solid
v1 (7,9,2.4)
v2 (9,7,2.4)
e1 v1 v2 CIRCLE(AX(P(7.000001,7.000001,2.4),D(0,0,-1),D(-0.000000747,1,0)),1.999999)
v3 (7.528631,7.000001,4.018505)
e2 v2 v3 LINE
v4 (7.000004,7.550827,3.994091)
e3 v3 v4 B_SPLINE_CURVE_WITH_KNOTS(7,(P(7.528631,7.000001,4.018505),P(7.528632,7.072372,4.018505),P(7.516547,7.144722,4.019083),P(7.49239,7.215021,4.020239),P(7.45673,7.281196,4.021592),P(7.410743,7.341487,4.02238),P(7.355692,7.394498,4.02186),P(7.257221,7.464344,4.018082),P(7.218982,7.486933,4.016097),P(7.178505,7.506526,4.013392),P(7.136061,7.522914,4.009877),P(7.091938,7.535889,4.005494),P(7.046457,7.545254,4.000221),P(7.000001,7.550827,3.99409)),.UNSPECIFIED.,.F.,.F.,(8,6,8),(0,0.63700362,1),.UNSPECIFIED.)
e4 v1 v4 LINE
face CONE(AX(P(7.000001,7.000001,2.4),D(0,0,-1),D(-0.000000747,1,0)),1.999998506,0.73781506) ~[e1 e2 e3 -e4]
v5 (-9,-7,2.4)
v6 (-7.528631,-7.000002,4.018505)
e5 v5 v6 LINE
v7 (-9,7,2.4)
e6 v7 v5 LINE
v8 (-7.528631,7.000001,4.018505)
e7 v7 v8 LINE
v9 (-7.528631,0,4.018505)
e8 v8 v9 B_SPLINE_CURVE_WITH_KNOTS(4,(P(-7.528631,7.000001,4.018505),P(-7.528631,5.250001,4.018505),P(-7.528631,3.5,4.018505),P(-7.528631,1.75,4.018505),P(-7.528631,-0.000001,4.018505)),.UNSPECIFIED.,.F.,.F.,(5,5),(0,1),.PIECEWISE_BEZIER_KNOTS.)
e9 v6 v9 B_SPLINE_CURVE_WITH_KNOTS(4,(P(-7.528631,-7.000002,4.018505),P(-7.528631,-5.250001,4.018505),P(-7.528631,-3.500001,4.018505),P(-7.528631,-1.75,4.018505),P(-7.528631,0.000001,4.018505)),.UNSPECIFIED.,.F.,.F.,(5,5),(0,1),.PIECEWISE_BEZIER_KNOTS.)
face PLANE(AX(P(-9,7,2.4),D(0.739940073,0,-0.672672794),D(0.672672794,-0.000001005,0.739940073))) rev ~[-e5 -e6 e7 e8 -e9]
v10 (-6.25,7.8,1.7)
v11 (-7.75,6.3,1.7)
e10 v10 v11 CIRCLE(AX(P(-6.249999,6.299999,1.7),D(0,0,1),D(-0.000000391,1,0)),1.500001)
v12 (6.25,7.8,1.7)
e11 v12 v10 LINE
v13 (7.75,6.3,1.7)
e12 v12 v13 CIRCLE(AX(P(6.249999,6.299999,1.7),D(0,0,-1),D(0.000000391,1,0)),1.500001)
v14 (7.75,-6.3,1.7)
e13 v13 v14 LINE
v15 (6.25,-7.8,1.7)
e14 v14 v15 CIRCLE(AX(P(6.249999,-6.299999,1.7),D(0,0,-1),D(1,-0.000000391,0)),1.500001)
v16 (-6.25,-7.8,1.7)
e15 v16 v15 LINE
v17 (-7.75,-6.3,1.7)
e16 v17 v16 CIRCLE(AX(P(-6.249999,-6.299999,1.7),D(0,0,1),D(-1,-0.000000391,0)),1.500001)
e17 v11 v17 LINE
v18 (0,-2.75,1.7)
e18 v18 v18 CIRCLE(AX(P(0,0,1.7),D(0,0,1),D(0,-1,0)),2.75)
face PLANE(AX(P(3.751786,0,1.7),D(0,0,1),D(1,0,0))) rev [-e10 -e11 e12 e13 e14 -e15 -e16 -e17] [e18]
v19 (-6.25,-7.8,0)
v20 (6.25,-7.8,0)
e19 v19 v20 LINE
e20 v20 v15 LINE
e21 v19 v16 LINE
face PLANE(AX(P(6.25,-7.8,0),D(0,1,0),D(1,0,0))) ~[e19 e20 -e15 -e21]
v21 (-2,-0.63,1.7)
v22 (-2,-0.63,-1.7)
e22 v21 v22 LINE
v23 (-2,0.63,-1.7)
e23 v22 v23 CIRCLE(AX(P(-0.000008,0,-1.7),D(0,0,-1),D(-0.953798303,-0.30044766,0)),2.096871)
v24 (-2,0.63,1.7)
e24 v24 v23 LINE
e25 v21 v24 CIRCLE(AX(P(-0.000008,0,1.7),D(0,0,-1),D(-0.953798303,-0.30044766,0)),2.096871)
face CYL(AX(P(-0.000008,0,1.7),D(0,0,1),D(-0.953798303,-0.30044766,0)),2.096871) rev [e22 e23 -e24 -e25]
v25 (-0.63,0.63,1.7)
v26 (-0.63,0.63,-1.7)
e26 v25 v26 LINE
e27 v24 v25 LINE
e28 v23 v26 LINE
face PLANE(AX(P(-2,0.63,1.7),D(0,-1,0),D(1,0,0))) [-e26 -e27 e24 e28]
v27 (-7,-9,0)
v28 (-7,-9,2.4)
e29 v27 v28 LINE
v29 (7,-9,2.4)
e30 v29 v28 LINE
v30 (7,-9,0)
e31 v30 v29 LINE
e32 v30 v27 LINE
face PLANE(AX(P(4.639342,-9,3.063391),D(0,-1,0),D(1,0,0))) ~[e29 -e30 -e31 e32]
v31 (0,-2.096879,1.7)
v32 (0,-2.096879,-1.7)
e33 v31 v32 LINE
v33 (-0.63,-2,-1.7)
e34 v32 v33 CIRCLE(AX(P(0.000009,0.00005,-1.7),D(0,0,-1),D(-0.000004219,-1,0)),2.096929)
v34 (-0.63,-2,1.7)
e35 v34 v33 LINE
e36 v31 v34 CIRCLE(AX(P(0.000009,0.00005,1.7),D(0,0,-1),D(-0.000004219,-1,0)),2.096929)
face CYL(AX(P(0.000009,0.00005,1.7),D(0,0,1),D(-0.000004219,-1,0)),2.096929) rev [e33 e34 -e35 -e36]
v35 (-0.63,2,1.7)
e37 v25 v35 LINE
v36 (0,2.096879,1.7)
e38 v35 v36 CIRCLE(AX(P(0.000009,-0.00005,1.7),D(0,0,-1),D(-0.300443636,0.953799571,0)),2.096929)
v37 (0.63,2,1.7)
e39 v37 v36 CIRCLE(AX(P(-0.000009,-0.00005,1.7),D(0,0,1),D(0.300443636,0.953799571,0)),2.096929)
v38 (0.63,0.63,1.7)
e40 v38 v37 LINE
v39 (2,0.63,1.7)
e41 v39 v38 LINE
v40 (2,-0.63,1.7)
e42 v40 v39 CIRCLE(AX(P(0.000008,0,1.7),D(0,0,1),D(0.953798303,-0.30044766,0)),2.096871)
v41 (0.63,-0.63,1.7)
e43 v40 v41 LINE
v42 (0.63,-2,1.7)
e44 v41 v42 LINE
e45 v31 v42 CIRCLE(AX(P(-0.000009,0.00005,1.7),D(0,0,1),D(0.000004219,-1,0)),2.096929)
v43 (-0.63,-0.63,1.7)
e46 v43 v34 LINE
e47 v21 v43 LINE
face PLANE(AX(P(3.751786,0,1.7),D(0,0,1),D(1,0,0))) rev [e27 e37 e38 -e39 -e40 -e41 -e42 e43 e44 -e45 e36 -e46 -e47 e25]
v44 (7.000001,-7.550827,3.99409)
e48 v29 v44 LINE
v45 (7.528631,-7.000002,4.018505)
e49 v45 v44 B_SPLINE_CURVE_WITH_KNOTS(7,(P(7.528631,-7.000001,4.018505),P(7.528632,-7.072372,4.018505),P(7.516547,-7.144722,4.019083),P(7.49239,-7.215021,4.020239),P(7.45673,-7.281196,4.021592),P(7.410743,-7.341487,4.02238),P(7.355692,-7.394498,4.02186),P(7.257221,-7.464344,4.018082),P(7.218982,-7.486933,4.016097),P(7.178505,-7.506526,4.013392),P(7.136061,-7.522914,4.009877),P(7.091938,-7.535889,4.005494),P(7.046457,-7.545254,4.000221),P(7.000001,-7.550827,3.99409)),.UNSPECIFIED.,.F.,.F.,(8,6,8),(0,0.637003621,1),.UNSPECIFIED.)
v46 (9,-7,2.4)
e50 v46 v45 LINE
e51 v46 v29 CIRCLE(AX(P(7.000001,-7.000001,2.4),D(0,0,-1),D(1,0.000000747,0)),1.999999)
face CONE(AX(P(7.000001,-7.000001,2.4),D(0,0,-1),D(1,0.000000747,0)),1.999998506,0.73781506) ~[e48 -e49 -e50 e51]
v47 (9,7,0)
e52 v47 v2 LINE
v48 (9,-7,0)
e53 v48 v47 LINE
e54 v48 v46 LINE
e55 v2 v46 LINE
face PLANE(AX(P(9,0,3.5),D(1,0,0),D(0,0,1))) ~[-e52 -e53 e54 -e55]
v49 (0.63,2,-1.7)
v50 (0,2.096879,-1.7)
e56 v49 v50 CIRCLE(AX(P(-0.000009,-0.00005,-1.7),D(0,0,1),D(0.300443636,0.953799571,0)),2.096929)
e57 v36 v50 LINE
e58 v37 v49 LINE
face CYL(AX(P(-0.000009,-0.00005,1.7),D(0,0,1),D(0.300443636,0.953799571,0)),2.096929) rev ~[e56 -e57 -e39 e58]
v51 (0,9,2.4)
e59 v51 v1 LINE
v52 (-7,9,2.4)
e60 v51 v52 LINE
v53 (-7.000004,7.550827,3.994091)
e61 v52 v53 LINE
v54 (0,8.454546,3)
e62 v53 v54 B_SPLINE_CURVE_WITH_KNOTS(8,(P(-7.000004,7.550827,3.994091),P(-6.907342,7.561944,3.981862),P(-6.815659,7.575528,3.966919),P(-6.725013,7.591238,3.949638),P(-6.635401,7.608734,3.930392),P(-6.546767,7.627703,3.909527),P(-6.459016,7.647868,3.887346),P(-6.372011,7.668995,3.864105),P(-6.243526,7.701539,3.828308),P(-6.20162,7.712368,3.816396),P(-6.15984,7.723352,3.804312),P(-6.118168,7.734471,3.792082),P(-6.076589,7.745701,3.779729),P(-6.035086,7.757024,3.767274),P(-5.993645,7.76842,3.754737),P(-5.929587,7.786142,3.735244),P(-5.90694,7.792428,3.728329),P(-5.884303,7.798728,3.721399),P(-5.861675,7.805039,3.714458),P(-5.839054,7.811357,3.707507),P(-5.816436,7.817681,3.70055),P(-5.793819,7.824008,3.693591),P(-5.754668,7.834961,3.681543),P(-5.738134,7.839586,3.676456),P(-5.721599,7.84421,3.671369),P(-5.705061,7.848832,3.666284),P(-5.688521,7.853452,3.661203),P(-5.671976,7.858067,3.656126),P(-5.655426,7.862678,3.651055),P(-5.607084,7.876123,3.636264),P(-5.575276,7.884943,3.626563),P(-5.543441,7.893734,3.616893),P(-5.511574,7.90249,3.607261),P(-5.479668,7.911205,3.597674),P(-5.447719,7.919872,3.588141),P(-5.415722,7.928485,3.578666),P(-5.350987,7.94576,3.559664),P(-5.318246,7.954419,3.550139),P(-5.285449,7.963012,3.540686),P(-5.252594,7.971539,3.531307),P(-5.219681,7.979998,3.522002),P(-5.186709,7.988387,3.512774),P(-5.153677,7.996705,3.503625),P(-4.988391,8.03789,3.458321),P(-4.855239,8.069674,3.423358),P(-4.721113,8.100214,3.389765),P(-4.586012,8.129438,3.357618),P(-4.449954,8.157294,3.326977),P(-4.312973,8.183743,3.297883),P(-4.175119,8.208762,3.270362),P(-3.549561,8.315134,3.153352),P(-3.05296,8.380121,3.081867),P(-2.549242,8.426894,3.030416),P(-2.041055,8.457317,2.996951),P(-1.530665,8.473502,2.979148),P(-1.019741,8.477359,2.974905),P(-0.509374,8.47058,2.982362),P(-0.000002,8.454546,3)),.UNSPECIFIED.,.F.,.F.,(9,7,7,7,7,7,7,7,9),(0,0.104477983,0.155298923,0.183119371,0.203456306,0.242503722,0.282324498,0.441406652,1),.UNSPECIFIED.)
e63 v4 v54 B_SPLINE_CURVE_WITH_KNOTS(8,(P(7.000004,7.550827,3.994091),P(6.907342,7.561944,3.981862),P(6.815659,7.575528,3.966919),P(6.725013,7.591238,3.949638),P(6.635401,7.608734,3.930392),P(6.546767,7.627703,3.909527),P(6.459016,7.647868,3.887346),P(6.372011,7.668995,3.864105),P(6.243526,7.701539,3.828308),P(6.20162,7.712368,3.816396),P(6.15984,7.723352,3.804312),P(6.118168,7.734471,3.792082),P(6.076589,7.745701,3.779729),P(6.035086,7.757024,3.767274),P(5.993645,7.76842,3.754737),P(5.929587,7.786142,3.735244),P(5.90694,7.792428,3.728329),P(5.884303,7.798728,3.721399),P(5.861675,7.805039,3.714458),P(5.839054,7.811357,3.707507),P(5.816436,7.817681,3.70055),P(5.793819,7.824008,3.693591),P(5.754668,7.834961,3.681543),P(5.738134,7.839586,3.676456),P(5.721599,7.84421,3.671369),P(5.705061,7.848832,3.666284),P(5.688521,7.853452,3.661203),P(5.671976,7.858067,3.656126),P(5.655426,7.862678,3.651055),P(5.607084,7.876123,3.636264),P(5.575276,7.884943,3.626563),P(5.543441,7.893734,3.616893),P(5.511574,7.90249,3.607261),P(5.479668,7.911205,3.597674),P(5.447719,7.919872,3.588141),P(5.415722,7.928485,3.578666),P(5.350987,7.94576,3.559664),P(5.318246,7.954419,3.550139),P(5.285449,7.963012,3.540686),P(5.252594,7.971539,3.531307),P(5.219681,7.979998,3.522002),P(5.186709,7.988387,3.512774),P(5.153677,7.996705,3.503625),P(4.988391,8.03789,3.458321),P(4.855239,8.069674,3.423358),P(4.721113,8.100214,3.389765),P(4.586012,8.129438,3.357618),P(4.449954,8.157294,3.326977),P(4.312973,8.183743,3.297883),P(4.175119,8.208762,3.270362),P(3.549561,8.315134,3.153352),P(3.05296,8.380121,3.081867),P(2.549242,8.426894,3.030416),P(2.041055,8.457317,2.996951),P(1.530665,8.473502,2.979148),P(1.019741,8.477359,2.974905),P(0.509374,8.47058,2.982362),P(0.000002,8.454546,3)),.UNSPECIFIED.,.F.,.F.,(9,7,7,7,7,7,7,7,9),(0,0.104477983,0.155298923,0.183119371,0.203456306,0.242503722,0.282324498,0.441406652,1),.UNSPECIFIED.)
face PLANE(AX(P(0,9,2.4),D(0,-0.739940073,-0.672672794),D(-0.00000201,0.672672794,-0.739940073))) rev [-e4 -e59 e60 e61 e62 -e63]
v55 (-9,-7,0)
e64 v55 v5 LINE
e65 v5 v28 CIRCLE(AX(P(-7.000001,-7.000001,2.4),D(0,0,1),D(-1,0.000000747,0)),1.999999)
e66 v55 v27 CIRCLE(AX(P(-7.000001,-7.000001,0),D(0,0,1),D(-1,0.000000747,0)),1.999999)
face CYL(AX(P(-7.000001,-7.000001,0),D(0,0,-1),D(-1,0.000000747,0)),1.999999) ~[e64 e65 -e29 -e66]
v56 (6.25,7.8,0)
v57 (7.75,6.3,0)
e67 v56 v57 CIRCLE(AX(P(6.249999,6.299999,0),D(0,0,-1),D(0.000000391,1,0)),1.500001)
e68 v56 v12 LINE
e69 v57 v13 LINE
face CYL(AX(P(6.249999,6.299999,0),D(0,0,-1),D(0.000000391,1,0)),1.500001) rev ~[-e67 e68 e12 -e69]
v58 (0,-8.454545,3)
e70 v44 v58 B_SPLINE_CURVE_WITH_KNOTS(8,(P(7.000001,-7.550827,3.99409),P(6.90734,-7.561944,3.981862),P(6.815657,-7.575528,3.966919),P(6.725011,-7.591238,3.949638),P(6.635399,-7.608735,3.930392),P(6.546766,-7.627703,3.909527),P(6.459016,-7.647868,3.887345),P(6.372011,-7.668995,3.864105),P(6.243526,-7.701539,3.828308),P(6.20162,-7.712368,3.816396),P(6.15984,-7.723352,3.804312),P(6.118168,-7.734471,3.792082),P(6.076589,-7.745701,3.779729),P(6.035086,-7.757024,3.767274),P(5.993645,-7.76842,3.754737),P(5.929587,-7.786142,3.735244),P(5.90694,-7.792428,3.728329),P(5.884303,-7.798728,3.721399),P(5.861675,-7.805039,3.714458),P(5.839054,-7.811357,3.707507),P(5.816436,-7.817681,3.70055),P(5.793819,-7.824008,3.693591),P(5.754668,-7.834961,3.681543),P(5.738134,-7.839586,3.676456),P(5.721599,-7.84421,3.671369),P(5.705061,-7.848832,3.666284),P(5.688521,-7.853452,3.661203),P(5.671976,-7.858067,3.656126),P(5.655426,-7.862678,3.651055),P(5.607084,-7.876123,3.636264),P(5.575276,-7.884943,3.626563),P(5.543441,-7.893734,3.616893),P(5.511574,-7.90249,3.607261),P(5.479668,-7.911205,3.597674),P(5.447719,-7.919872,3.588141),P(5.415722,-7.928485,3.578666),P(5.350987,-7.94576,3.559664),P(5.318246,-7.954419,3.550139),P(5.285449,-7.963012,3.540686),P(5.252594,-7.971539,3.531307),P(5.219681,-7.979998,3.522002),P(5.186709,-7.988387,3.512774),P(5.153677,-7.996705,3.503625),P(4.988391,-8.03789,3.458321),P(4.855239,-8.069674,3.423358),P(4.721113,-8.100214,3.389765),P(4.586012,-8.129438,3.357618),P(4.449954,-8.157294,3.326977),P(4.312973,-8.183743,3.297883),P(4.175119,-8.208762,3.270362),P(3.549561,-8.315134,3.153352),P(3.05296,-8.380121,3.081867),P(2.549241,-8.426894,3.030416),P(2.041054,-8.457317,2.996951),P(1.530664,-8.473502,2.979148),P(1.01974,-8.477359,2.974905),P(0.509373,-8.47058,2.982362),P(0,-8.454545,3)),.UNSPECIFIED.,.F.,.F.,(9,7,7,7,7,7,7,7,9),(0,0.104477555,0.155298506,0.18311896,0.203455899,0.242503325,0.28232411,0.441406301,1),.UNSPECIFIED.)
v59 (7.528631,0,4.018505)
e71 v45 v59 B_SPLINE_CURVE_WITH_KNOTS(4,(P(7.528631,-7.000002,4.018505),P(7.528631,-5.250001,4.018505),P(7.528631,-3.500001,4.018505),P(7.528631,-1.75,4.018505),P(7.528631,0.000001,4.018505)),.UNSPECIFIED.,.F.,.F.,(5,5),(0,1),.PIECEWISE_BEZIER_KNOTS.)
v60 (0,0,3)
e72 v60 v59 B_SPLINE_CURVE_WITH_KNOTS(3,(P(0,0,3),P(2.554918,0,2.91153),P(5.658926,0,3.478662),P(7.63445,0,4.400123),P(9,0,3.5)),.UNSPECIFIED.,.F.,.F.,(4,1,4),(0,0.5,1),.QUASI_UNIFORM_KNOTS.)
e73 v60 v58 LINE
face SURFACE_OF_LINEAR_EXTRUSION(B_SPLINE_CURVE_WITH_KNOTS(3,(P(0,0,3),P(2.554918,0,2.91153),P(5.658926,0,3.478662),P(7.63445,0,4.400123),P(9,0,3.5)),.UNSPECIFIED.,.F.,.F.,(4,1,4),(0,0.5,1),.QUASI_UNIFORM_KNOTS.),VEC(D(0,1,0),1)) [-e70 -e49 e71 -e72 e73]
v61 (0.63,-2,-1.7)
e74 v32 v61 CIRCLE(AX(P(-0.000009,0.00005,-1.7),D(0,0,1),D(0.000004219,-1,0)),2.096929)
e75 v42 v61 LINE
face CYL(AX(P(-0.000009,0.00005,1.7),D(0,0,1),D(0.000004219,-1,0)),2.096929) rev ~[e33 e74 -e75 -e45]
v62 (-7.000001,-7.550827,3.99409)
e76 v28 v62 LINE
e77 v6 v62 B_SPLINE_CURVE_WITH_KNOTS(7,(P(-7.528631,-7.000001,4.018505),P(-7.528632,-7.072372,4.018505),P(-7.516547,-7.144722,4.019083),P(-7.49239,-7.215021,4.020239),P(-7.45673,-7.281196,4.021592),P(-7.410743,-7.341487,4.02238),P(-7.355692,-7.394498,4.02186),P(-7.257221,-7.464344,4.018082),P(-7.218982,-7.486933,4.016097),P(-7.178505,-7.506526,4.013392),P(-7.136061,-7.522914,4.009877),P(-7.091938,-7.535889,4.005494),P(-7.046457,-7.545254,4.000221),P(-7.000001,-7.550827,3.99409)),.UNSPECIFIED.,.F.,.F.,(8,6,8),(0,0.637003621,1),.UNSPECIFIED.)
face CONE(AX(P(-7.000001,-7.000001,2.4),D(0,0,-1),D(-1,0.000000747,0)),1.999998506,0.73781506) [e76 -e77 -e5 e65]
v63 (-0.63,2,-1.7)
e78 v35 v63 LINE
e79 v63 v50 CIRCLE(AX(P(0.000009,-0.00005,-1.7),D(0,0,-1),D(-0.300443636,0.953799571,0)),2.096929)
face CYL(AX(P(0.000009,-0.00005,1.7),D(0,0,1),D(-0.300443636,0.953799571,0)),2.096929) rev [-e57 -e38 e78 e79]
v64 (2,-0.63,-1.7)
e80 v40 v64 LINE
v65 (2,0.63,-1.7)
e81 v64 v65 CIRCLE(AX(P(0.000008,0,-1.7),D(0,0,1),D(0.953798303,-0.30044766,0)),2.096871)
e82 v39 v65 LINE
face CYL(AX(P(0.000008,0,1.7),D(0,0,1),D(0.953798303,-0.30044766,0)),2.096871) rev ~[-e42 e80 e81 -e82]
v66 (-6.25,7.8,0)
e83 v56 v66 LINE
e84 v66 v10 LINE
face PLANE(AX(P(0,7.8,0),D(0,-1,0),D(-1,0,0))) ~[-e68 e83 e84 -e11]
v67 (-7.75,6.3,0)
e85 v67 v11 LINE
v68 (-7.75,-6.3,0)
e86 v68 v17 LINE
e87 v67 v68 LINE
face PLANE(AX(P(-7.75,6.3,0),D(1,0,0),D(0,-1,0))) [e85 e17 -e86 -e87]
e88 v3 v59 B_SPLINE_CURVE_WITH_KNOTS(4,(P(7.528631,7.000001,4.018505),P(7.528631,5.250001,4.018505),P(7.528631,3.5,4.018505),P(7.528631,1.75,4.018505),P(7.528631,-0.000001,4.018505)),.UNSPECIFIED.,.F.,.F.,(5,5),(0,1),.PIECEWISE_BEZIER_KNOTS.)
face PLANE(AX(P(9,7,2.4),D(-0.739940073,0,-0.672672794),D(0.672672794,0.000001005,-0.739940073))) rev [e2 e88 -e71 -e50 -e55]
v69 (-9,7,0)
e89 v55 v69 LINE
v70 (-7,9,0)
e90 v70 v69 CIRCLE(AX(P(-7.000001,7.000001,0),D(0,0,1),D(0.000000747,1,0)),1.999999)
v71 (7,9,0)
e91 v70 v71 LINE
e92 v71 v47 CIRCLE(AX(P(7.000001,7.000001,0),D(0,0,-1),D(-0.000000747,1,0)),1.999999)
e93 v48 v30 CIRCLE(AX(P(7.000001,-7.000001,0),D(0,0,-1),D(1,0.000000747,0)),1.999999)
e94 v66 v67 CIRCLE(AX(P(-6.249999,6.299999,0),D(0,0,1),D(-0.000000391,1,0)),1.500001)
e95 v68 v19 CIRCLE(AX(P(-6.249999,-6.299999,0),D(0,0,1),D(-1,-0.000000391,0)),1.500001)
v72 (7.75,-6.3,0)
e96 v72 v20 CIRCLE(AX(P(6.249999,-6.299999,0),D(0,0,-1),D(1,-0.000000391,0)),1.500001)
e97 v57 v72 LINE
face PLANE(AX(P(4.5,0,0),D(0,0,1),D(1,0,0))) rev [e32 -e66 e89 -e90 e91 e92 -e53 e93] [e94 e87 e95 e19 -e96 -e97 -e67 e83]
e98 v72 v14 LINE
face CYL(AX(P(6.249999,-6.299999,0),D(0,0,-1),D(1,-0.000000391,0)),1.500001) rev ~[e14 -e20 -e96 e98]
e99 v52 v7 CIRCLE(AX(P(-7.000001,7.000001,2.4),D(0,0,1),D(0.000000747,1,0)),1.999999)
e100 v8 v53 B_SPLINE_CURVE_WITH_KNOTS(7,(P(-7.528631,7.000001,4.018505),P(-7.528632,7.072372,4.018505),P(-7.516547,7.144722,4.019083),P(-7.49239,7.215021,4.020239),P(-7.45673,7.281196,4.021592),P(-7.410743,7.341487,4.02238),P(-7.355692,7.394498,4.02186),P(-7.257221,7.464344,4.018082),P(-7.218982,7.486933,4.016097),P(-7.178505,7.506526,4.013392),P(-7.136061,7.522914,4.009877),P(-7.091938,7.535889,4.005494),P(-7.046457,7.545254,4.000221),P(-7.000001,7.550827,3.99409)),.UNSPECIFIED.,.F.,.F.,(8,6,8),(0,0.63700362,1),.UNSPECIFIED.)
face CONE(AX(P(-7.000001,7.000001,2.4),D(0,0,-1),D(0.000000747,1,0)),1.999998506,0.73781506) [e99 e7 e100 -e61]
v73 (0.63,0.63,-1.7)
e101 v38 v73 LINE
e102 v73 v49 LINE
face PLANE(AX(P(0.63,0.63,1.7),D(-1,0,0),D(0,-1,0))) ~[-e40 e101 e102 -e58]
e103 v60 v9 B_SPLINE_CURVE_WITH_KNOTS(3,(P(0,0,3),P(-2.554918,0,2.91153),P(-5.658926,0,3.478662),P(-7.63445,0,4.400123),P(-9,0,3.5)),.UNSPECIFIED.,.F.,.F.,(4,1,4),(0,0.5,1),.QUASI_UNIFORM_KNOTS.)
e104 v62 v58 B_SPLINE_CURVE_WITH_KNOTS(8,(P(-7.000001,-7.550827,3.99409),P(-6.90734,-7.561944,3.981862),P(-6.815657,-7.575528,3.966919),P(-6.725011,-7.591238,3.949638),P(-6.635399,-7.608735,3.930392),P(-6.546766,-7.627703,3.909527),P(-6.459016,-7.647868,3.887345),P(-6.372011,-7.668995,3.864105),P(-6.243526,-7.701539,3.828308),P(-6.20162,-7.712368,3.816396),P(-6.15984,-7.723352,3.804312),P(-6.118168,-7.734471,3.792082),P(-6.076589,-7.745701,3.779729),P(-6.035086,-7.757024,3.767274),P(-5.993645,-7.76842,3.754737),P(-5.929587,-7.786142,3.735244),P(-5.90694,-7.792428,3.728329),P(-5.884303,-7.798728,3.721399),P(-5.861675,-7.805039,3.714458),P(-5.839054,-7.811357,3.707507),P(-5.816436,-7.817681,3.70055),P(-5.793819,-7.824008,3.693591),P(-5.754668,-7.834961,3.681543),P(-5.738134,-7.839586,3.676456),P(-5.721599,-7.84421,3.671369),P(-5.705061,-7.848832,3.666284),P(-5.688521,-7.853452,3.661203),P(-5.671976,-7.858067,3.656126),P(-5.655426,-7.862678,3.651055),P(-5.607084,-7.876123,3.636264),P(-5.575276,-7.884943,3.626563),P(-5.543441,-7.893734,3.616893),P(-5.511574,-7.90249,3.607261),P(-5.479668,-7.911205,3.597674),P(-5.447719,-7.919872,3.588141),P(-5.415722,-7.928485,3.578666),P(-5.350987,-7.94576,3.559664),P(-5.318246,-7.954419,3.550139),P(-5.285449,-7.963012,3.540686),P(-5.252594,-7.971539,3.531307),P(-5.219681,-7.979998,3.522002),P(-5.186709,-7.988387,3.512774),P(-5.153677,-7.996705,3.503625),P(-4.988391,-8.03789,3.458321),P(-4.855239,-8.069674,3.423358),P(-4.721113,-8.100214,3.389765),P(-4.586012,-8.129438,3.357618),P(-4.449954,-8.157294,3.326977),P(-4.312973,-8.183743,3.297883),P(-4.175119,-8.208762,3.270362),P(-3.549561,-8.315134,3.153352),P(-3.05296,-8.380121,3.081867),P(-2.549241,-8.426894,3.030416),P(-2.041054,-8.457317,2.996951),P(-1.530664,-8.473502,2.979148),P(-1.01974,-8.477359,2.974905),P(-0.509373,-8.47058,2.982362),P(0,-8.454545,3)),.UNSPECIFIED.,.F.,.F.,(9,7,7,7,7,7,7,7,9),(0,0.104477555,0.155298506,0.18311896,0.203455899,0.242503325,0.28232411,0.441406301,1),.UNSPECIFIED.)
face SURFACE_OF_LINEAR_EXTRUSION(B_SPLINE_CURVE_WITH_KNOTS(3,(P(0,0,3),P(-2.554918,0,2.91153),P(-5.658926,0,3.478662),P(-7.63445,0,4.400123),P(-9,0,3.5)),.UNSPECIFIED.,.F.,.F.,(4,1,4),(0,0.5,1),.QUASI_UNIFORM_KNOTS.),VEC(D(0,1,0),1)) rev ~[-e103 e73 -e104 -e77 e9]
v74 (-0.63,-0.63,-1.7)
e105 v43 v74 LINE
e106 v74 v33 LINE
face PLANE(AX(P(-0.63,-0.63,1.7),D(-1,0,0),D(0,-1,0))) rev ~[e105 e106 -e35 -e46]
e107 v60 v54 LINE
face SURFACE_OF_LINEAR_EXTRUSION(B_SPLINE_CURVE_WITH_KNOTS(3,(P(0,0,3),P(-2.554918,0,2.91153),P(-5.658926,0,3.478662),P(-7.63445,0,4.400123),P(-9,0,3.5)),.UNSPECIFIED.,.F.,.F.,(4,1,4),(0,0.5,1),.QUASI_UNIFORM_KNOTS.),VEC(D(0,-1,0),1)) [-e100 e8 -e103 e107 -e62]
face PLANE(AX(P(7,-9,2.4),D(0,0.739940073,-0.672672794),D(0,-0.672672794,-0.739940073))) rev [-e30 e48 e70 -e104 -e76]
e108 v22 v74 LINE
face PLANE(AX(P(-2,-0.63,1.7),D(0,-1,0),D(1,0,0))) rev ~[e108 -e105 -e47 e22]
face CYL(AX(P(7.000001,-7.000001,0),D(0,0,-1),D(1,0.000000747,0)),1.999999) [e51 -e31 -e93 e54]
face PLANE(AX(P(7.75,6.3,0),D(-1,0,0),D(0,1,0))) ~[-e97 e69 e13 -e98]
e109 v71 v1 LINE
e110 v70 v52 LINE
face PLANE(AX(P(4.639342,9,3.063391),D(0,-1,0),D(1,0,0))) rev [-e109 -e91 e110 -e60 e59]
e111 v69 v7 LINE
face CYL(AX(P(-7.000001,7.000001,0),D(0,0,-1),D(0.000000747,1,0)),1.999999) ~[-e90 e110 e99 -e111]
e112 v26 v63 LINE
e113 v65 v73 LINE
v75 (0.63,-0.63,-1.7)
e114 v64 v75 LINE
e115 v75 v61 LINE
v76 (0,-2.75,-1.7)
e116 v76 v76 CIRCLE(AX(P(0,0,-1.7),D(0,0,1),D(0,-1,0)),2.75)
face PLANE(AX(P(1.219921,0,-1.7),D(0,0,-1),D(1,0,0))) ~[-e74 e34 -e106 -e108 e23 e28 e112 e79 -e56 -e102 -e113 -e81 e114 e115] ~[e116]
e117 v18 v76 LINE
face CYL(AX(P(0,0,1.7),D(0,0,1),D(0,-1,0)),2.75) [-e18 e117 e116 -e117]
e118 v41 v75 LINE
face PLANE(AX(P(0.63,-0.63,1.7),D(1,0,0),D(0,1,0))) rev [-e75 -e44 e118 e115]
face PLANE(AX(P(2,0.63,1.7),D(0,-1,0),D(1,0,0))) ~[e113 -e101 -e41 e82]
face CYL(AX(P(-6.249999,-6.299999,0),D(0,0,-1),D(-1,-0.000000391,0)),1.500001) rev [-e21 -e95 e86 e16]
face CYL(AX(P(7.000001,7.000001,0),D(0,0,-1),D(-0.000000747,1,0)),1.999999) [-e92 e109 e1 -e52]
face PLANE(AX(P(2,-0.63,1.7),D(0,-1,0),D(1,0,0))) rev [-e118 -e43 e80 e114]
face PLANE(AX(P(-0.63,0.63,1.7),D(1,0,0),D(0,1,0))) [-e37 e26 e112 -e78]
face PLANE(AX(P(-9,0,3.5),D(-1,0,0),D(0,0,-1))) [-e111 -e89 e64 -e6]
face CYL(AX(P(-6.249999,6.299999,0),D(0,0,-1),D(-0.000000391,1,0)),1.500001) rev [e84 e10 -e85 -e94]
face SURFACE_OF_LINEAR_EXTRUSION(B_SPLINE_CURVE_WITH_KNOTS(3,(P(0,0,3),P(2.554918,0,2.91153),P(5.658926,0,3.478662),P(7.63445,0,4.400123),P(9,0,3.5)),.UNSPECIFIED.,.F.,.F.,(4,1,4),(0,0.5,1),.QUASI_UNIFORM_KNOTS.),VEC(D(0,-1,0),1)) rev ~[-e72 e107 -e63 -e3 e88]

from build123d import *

# Parameters (mm, degrees)
SKETCH_W        = 9
SKETCH_H        = 18
PAD_DEPTH       = 2.7
PAD001_DEPTH    = 9
POCKET_DEPTH    = 10
POCKET001_DEPTH = 1.7
PAD002_DEPTH    = 3.4


with BuildPart() as part:
    # Sketch → Pad (new body)
    with BuildSketch(Plane.XY):
        with Locations((-4.5, 0)):
            Rectangle(SKETCH_W, SKETCH_H)
    extrude(amount=PAD_DEPTH)

    # Sketch001 → Pad001 (join, symmetric)
    with BuildSketch(Plane.XZ):
        with BuildLine():
            Line((-9, 2.7), (0, 2.7))
            Line((0, 2.7), (0, 3))
            add(Edge.make_bspline(
                [(0, 3), (-2.554918, 2.91153), (-5.658926, 3.478662), (-7.63445, 4.400123), (-9, 3.5)],
                knots=[0, 0, 0, 0, 0.5, 1, 1, 1, 1], degree=3))
            Line((-9, 3.5), (-9, 2.7))
        make_face()
    extrude(amount=PAD001_DEPTH, both=True)

    # Sketch002 → Pocket (cut)
    with BuildSketch(Plane.XY):
        with BuildLine():
            ThreePointArc((-7, 9), (-8.414214, 8.414214), (-9, 7))
            Line((-9, 7), (-10, 7))
            Line((-10, 7), (-10, 10))
            Line((-10, 10), (-7, 10))
            Line((-7, 10), (-7, 9))
        make_face()
        with BuildLine():
            ThreePointArc((-9, -7), (-8.414214, -8.414214), (-7, -9))
            Line((-7, -9), (-7, -10))
            Line((-10, -10), (-7, -10))
            Line((-10, -7), (-10, -10))
            Line((-9, -7), (-10, -7))
        make_face()
    extrude(amount=POCKET_DEPTH, mode=Mode.SUBTRACT)

    # Sketch003 → Pocket001 (cut)
    with BuildSketch(Plane.XY):
        with BuildLine():
            Line((0, 7.8), (-6.25, 7.8))
            ThreePointArc((-6.25, 7.8), (-7.31066, 7.36066), (-7.75, 6.3))
            Line((-7.75, 6.3), (-7.75, -6.3))
            ThreePointArc((-7.75, -6.3), (-7.31066, -7.36066), (-6.25, -7.8))
            Line((-6.25, -7.8), (0, -7.8))
            Line((0, -7.8), (0, 0))
            Line((0, 0), (0, 7.8))
        make_face()
    extrude(amount=POCKET001_DEPTH, mode=Mode.SUBTRACT)

    # Sketch004 (on Face10 of Pocket001) → Pad002 (join)
    with BuildSketch(Plane(origin=(0, 0, 1.7), x_dir=(1, 0, 0), z_dir=(0, 0, -1))):
        with BuildLine():
            ThreePointArc((0, 2.75), (-2.75, 0), (0, -2.75))
            Line((0, -2.096879), (0, -2.75))
            ThreePointArc((-0.63, -2), (-0.318703, -2.072517), (0, -2.096879))
            Line((-0.63, -0.63), (-0.63, -2))
            Line((-2, -0.63), (-0.63, -0.63))
            ThreePointArc((-2, 0.63), (-2.096879, 0), (-2, -0.63))
            Line((-2, 0.63), (-0.63, 0.63))
            Line((-0.63, 0.63), (-0.63, 2))
            ThreePointArc((0, 2.096879), (-0.318703, 2.072517), (-0.63, 2))
            Line((0, 2.75), (0, 2.096879))
        make_face()
    extrude(amount=PAD002_DEPTH)

    # SubtractivePipe: sweep along a path in Sketch009
    with BuildLine(Plane(origin=(0, 0, 2.4), x_dir=(0, -1, 0), z_dir=(0, 0, 1))) as subtractivepipe_path:
        Line((-9, 0), (-9, -7))
        ThreePointArc((-9, -7), (-8.414214, -8.414214), (-7, -9))
        Line((-7, -9), (7, -9))
        ThreePointArc((7, -9), (8.414214, -8.414214), (9, -7))
        Line((9, -7), (9, 0))
    # Sketch008 → SubtractivePipe (sweep, cut)
    with BuildSketch(Plane.YZ):
        Polygon((-9, 2.4), (-7.5, 4.05), (-9, 4.05), align=None)
    sweep(path=subtractivepipe_path.line, mode=Mode.SUBTRACT)

    # Mirrored: part across YZ


with BuildPart() as part_1:
    add(part.part)
    add(part.part.mirror(Plane.YZ))


solid = part_1.part
